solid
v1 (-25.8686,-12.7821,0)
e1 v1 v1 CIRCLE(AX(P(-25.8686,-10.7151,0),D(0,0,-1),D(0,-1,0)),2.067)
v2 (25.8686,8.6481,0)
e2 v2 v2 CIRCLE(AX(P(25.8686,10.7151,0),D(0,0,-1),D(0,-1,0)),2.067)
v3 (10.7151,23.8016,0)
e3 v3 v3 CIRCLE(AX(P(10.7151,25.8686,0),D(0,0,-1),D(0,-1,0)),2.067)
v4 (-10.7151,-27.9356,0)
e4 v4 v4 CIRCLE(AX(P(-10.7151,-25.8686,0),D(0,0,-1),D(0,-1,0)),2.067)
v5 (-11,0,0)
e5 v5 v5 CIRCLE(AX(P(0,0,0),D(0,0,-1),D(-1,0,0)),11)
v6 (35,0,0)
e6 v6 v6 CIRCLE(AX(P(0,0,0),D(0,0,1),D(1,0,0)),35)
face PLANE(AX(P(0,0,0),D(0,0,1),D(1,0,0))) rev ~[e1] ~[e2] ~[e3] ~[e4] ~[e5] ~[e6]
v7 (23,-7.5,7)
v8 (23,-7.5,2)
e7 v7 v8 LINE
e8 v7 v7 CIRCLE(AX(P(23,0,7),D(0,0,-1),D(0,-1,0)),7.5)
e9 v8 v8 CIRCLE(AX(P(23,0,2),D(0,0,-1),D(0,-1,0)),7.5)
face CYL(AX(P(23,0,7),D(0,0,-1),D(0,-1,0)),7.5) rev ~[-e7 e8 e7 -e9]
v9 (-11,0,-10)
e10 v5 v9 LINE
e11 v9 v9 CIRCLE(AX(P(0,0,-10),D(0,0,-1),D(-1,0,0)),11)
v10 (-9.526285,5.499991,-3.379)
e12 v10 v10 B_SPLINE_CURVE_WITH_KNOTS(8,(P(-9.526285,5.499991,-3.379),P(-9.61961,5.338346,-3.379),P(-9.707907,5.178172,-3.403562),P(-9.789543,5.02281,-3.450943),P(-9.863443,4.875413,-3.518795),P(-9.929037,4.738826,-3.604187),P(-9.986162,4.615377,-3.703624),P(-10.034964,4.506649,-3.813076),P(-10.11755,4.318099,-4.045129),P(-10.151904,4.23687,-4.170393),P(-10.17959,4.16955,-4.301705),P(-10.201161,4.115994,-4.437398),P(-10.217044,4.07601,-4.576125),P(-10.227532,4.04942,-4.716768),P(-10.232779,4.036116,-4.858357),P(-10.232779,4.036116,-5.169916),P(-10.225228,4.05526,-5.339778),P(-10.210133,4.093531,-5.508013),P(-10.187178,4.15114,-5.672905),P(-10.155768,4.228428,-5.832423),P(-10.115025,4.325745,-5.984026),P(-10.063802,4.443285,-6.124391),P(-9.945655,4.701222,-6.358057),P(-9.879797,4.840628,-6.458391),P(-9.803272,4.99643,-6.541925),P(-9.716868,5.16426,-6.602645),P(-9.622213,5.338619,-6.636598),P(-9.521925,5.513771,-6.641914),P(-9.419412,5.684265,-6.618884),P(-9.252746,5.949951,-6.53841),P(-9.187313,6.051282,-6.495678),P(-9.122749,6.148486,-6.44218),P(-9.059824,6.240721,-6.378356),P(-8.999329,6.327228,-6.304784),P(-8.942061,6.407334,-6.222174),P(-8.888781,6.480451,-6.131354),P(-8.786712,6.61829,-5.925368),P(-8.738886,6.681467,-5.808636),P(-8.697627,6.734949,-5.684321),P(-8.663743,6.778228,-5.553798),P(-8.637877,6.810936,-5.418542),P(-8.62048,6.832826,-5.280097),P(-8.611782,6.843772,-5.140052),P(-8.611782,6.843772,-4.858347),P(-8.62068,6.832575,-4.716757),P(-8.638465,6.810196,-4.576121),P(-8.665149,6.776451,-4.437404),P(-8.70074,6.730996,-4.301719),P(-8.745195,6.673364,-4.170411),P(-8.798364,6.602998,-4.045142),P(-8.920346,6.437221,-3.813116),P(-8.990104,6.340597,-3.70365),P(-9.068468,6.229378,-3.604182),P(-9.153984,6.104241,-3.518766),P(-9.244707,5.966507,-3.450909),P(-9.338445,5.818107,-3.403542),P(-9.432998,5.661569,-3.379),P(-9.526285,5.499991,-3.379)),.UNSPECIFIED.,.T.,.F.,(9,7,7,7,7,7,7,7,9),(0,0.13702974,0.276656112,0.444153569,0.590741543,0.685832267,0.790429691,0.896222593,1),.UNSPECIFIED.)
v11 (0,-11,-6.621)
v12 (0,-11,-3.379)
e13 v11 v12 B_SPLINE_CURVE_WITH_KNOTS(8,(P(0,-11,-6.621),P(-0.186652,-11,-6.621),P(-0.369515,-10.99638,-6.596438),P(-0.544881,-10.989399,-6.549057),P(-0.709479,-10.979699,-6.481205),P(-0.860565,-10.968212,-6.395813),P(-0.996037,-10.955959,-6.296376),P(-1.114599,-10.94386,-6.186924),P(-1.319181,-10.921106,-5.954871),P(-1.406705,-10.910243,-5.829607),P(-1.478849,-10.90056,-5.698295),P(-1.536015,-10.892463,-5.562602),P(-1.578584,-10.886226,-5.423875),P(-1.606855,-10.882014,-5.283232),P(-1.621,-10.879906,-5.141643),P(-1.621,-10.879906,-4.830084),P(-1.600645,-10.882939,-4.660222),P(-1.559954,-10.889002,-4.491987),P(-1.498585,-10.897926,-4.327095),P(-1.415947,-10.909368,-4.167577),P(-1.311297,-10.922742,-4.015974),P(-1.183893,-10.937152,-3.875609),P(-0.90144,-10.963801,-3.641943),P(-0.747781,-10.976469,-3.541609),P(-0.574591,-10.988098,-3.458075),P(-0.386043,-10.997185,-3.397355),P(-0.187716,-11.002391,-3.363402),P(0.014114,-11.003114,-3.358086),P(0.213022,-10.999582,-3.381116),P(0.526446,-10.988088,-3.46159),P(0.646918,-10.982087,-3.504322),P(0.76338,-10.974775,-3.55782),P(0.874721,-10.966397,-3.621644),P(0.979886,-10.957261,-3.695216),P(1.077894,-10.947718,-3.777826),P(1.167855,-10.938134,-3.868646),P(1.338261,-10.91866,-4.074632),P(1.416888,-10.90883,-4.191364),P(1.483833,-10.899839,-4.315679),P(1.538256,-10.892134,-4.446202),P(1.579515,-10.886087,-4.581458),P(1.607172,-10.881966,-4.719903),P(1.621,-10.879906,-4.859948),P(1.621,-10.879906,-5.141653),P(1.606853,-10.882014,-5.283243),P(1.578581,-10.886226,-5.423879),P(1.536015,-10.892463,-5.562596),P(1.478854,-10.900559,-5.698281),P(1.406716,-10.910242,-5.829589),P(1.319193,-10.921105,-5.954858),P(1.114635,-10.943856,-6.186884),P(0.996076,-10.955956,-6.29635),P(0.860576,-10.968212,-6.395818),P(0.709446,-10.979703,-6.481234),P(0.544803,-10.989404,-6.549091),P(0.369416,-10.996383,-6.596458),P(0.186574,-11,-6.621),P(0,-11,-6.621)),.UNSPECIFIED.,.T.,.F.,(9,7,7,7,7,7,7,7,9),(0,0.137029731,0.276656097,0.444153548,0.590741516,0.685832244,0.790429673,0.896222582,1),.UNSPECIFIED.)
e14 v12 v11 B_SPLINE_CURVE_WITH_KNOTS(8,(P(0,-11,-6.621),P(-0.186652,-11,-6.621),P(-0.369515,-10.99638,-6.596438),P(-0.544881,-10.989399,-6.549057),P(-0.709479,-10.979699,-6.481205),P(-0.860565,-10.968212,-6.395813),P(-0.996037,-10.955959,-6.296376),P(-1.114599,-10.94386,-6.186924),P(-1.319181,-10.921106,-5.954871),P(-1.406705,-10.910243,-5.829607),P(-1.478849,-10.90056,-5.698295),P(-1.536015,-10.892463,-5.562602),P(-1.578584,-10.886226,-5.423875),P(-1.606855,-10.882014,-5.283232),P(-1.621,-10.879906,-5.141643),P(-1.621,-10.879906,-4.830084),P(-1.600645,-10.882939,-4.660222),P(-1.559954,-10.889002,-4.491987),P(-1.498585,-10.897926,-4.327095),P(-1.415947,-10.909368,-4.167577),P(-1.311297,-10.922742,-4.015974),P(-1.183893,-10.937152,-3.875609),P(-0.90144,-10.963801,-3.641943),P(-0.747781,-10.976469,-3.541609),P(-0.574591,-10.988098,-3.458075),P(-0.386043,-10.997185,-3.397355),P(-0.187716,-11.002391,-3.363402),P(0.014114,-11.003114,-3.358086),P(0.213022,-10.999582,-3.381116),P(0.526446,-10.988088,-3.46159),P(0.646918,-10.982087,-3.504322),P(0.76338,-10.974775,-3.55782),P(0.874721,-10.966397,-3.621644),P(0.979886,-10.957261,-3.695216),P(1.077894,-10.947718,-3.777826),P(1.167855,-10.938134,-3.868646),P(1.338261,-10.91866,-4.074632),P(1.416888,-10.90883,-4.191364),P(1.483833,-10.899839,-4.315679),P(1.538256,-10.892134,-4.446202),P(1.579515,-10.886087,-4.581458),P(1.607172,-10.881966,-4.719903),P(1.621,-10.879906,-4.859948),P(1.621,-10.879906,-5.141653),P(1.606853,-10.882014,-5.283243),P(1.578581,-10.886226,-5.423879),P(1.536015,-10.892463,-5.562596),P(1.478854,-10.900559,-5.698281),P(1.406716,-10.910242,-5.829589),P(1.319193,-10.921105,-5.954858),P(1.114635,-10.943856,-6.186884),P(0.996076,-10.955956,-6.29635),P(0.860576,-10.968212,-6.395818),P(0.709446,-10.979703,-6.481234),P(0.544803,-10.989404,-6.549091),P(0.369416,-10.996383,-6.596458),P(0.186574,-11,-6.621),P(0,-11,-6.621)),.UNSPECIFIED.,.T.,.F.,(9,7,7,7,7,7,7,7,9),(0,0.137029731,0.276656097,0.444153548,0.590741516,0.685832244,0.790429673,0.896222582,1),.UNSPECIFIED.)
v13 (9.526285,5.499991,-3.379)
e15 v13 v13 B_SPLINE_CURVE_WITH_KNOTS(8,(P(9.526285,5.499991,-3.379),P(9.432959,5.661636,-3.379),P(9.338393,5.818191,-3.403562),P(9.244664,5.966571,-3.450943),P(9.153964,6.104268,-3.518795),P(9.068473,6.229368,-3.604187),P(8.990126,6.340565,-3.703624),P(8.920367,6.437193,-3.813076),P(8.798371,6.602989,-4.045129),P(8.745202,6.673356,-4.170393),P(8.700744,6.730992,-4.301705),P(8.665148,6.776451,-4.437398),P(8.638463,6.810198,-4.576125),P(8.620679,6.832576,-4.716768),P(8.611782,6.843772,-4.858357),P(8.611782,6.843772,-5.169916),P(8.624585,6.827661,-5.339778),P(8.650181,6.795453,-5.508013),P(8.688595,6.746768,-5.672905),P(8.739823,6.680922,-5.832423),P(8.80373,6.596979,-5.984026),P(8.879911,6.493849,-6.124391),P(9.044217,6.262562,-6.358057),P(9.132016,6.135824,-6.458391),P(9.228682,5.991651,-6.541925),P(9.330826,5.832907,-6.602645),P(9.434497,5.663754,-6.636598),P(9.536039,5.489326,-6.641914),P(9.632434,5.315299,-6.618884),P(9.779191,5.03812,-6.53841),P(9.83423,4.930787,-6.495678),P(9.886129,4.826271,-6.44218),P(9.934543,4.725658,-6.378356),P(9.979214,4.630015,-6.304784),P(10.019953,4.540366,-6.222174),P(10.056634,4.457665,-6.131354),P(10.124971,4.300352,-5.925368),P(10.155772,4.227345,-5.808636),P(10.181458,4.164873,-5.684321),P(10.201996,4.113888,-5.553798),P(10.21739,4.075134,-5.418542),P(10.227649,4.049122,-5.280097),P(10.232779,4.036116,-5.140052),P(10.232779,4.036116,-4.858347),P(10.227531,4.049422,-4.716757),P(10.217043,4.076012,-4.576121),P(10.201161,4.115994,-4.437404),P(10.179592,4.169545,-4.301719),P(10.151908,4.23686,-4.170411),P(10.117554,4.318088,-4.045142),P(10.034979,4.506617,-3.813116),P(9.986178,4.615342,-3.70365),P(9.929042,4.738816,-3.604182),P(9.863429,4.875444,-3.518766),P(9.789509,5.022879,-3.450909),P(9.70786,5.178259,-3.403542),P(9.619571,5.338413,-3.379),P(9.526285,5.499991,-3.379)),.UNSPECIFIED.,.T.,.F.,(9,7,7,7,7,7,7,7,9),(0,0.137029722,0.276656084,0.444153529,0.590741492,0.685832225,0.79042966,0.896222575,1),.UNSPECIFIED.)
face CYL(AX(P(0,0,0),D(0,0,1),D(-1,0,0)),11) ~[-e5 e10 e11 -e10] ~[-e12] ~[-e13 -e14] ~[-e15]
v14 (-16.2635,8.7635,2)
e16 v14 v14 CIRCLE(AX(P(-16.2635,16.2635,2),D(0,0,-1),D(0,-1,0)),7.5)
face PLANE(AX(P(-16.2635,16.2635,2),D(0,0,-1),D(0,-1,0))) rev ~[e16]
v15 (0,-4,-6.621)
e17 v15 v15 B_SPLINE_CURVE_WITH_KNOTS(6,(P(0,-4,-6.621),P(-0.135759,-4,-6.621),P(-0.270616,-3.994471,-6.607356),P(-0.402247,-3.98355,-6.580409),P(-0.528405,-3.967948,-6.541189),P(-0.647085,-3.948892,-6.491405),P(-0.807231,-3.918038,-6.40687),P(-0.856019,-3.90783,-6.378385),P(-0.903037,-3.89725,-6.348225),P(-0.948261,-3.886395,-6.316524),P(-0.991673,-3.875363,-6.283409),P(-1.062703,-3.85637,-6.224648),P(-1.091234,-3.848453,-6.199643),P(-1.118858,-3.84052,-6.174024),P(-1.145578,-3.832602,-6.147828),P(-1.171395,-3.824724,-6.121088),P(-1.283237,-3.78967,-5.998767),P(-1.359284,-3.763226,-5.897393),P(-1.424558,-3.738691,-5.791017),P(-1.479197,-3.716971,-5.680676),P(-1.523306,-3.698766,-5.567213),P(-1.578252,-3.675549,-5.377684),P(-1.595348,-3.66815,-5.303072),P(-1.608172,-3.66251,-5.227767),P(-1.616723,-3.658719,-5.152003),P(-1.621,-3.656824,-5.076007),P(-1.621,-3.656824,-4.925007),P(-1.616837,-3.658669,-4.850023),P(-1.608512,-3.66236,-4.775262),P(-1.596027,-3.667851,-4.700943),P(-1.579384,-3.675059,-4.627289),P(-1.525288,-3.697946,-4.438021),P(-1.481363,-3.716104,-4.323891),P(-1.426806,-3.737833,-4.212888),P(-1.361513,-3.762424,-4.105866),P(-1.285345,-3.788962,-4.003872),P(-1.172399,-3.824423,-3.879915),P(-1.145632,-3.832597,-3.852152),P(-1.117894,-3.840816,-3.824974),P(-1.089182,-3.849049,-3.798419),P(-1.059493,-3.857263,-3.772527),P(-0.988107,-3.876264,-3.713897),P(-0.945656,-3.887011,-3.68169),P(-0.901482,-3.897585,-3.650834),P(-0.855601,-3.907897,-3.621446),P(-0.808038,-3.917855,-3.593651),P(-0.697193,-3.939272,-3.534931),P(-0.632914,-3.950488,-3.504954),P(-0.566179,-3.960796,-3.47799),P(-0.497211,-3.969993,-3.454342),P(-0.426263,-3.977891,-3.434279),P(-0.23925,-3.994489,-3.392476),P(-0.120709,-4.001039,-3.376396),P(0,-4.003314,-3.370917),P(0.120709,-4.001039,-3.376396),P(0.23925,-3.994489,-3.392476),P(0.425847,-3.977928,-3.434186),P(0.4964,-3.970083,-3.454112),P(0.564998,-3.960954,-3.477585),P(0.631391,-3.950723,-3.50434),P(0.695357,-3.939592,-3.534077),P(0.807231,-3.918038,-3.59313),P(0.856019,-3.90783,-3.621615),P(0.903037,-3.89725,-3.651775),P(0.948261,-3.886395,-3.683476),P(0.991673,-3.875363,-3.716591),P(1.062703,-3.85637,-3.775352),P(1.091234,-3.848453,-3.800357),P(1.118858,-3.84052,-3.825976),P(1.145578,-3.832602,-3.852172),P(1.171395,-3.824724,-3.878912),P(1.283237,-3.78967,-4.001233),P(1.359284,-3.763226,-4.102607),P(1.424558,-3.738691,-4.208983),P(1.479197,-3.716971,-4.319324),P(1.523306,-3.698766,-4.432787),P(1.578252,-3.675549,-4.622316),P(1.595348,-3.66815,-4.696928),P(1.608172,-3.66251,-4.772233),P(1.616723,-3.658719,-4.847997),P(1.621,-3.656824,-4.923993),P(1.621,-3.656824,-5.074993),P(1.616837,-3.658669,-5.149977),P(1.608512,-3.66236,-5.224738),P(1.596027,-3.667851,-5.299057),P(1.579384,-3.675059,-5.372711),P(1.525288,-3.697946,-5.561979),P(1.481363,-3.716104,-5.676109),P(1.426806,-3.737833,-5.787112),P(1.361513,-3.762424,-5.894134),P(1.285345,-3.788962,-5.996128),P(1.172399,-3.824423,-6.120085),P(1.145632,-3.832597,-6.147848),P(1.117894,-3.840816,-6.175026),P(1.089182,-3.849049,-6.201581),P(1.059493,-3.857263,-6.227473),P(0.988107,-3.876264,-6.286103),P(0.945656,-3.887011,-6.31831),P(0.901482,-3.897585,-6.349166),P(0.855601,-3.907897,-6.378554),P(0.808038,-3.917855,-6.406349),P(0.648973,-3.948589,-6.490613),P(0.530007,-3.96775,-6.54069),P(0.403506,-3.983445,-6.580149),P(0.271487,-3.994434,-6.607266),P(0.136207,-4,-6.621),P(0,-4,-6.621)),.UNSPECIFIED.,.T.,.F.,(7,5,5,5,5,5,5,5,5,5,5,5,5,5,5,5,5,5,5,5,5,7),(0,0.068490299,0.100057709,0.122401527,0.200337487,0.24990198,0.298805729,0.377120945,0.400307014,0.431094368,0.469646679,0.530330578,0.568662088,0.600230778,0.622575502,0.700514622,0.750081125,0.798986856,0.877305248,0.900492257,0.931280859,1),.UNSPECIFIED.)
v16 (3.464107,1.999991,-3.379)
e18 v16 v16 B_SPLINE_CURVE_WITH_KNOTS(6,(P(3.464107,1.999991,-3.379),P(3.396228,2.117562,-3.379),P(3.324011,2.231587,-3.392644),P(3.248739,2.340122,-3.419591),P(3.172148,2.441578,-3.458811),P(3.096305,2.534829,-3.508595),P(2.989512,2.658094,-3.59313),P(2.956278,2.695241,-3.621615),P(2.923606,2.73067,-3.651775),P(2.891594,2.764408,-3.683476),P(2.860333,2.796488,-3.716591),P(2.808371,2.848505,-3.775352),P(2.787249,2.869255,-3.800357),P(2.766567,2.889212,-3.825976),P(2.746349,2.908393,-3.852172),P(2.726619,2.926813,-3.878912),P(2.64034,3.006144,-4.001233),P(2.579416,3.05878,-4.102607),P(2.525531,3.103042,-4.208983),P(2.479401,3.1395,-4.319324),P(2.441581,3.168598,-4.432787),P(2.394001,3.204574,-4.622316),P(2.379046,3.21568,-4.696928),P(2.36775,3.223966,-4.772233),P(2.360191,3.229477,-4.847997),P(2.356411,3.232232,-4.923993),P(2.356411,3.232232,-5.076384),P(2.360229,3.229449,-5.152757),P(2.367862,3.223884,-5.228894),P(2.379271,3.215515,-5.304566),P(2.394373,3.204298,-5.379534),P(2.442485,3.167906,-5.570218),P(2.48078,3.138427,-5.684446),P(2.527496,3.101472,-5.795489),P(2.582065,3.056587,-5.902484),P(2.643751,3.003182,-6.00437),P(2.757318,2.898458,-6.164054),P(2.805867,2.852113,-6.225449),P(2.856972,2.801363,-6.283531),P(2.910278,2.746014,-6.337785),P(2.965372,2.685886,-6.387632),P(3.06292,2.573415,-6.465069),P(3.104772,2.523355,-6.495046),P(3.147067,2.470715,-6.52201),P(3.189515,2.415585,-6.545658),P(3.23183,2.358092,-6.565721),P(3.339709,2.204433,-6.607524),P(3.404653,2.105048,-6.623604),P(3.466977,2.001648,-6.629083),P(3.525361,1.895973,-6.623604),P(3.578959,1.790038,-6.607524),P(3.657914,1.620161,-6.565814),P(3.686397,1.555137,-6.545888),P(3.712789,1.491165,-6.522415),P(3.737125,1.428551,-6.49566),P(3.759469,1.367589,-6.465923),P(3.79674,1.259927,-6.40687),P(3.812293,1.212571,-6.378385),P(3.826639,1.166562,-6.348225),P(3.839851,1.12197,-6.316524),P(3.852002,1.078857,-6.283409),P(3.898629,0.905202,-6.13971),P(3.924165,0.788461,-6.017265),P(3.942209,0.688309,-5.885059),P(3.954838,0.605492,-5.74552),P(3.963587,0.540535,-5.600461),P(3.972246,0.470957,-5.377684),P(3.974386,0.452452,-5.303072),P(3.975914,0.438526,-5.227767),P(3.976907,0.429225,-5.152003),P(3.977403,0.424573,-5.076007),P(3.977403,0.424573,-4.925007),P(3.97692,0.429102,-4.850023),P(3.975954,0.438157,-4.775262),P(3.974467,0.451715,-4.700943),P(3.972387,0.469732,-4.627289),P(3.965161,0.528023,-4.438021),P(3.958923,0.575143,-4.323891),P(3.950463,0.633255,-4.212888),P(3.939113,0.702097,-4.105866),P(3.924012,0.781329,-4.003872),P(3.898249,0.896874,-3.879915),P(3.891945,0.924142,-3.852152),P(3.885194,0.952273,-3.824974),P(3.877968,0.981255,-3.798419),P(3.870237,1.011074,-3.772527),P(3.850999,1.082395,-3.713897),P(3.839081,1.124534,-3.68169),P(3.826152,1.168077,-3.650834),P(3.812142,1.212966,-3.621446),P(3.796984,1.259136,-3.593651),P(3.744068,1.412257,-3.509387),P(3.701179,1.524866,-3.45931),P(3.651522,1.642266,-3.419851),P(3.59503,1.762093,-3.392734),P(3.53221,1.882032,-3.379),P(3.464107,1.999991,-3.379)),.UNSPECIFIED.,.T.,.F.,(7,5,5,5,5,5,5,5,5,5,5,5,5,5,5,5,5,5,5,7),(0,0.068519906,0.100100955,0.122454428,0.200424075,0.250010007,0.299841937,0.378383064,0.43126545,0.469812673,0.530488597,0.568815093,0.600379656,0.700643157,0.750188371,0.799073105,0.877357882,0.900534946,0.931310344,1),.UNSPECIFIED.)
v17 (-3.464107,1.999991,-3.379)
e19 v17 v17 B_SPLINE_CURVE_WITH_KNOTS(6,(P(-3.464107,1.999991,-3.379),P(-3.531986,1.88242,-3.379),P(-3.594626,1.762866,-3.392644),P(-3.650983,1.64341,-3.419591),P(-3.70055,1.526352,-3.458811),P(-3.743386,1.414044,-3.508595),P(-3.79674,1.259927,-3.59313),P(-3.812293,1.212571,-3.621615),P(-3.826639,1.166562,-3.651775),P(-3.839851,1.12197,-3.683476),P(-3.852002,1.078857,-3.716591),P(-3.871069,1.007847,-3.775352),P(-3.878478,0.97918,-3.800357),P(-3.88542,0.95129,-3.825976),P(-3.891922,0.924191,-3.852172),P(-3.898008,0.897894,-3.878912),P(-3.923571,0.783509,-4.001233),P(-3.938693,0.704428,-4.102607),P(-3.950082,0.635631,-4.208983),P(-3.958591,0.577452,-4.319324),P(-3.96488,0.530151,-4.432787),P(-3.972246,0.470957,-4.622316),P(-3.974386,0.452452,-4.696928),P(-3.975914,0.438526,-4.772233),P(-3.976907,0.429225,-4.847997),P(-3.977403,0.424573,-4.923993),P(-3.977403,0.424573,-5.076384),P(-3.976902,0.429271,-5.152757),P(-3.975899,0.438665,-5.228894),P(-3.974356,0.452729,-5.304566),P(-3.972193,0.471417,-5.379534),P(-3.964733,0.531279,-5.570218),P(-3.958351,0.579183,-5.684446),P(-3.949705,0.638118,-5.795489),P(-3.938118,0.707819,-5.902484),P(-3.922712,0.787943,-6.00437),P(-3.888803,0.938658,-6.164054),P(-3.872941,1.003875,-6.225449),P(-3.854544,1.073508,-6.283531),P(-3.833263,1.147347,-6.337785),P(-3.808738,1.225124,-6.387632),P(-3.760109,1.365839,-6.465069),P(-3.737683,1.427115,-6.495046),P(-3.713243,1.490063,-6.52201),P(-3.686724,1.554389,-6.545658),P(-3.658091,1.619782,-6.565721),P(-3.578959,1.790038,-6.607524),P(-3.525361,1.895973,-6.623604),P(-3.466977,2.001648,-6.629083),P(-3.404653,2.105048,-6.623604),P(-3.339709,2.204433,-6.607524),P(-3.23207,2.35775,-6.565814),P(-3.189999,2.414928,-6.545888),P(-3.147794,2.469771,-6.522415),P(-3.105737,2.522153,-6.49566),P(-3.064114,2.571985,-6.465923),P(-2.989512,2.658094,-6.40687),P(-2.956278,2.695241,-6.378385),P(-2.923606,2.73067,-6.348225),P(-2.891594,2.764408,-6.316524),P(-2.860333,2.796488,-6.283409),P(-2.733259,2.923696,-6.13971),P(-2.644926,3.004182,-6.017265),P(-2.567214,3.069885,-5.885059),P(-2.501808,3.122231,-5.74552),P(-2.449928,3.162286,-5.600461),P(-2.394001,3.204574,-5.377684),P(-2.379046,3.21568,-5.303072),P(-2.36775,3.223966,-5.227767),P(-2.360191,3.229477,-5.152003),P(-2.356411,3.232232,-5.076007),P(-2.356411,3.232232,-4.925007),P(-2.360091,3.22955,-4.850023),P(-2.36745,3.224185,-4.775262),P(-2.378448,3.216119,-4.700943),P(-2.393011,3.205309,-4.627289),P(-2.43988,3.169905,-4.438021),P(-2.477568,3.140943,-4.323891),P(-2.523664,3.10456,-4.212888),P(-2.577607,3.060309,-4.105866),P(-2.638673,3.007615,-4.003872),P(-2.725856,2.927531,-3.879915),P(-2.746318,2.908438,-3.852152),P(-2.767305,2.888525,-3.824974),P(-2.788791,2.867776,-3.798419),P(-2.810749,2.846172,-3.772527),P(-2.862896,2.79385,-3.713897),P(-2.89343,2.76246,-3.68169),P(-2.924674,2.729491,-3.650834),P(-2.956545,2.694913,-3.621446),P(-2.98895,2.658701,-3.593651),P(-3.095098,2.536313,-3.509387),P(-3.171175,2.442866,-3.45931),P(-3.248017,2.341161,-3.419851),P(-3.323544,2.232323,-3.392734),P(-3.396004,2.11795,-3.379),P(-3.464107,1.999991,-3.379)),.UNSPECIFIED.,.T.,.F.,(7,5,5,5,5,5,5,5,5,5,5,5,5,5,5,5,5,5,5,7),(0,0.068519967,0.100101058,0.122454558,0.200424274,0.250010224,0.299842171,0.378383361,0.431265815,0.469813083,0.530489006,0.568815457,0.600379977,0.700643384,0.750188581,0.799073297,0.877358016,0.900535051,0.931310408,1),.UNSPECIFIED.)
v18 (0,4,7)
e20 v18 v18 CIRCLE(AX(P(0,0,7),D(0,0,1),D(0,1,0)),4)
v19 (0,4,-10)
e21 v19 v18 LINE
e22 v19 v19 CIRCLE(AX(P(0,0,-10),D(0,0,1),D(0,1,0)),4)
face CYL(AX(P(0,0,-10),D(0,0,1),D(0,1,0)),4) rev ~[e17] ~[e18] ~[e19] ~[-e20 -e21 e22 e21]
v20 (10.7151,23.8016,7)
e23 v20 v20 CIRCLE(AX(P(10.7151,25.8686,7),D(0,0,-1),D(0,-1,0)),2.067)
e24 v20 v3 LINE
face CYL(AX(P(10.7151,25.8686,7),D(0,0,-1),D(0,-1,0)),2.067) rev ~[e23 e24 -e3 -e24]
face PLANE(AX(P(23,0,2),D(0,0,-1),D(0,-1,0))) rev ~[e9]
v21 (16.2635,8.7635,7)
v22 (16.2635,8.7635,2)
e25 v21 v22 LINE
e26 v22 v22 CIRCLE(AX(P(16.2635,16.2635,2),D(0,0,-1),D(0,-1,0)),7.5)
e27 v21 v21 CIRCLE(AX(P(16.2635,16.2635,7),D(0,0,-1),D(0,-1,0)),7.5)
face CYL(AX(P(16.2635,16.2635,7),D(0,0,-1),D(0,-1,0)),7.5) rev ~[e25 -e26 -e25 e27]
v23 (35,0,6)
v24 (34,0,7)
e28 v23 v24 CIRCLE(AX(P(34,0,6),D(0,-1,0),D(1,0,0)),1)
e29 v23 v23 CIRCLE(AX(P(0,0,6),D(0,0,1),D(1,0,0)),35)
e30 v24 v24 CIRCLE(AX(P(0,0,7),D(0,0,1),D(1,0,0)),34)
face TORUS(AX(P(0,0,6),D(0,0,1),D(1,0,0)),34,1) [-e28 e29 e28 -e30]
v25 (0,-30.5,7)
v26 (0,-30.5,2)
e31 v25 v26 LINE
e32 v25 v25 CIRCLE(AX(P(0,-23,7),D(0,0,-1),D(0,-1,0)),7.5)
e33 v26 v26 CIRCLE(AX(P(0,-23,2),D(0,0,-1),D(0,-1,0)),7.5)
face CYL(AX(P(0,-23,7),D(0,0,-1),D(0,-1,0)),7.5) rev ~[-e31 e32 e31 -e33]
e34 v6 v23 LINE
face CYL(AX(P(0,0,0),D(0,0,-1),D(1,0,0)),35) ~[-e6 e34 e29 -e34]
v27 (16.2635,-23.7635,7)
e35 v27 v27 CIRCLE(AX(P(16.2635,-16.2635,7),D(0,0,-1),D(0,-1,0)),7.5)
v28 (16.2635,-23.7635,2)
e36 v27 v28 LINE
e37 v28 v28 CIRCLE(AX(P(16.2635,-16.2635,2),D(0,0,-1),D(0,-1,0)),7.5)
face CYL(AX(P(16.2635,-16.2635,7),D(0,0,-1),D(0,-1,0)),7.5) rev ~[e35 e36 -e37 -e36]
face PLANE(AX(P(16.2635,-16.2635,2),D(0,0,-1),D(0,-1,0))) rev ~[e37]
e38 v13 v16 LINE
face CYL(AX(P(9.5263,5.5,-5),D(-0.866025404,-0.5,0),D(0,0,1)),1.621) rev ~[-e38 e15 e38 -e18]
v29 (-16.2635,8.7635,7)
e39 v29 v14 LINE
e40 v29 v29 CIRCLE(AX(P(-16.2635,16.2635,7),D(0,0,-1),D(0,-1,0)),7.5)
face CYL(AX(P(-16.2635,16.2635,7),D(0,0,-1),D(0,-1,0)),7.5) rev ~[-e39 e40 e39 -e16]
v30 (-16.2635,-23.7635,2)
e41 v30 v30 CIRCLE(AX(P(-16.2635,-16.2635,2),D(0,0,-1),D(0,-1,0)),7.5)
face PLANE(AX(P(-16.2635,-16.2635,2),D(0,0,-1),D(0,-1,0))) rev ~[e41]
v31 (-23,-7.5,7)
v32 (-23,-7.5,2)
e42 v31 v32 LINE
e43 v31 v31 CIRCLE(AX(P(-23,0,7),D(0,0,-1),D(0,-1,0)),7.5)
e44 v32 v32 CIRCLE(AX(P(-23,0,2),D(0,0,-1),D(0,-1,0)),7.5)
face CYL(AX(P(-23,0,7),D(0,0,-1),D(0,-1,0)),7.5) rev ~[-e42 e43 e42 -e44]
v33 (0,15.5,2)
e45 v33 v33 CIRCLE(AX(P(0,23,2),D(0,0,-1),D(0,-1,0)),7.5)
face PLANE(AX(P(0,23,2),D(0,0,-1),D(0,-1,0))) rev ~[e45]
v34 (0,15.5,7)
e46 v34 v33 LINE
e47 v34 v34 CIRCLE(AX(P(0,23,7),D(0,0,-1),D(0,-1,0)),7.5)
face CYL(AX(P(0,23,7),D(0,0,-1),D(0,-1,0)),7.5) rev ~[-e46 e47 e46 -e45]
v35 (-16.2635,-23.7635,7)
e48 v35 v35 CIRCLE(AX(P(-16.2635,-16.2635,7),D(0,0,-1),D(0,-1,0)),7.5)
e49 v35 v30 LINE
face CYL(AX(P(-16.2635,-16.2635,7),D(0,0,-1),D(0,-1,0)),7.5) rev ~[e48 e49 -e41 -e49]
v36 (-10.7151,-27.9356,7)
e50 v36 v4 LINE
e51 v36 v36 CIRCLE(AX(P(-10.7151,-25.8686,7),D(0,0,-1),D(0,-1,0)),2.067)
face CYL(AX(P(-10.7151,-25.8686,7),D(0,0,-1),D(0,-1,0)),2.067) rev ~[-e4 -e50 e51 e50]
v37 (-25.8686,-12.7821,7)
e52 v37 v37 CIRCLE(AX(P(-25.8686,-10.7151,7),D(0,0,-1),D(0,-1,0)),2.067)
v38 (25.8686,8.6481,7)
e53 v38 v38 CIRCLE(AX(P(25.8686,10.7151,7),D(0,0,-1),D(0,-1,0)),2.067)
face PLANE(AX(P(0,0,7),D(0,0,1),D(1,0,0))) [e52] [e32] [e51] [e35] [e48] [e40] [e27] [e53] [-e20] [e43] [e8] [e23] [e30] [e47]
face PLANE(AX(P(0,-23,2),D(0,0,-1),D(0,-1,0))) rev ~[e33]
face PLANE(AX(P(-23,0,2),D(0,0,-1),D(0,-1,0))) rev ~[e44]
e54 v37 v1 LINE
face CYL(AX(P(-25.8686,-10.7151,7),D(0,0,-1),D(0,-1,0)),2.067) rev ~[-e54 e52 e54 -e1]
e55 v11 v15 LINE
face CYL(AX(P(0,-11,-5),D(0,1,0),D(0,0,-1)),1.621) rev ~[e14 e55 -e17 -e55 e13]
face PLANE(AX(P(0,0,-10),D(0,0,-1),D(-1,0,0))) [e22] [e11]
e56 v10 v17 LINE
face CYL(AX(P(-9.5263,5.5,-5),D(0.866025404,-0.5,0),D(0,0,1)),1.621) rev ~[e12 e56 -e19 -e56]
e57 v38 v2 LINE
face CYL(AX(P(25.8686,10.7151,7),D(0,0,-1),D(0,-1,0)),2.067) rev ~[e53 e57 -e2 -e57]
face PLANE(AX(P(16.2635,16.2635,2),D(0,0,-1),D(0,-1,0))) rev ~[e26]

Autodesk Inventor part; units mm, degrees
sketch "Sketch1" plane through (0, 0, 0) normal (0, 0, 1) x (1, 0, 0)
  circle A0 centre (0, 0) radius 35
  dimension "d0" = 70
extrude "Extrusion1" add sketch "Sketch1" along normal blind 7
sketch "Sketch2" plane through (0, 0, 7) normal (0, 0, 1) x (1, 0, 0)
  circle A0 centre (0, 0) radius 35 projected
  circle A1 centre (0, 0) radius 23 construction
  line L0 (0, 0) -> (0, 23) construction
  point P0 (-16.2635, 16.2635)
  point P1 (-23, 0)
  point P2 (-16.2635, -16.2635)
  point P3 (0, -23)
  point P4 (16.2635, -16.2635)
  point P5 (23, 0)
  point P6 (16.2635, 16.2635)
  dimension "d3" = 46
  dimension "d6" = 360
hole "Hole1" at (0, 23, 7) at (-16.2635, 16.2635, 7) at (-23, 0, 7) at (-16.2635, -16.2635, 7) at (0, -23, 7) at (16.2635, -16.2635, 7) at (23, 0, 7) at (16.2635, 16.2635, 7) direction (0, 0, -1) diameter 15 depth 5
fillet "Fillet2" radius 1 1 edges at (-35, 0, 7)
sketch "Sketch12" plane through (0, 0, 0) normal (0, 0, -1) x (-1, 0, 0)
  circle A0 centre (0, 0) radius 35 projected
  circle A1 centre (0, 0) radius 11
  dimension "d62" = 22
extrude "Extrusion4" add sketch "Sketch12" along normal blind 10 contours A1
sketch "Sketch13" plane through (0, 0, -10) normal (0, 0, -1) x (-1, 0, 0)
  point P0 (0, 0)
  point P1 (0, 0)
hole "Hole6" at (0, 0, -10) direction (0, 0, 1) diameter 8 end through all
sketch "Sketch14" plane through (0, 0, 7) normal (0, 0, 1) x (1, 0, 0)
  circle A0 centre (0, 0) radius 28 construction
  circle A1 centre (0, 0) radius 4 projected
  circle A2 centre (16.2635, 16.2635) radius 7.5 projected
  circle A3 centre (16.2635, -16.2635) radius 7.5 projected
  circle A4 centre (-16.2635, -16.2635) radius 7.5 projected
  circle A5 centre (-16.2635, 16.2635) radius 7.5 projected
  circle A6 centre (0, 23) radius 7.5 projected
  circle A7 centre (-23, 0) radius 7.5 projected
  circle A8 centre (0, -23) radius 7.5 projected
  circle A9 centre (23, 0) radius 7.5 projected
  circle A10 centre (0, 0) radius 34 projected
  circle A11 centre (0, 0) radius 4 projected
  line L0 (0, 0) -> (16.2635, 16.2635)
  line L1 (0, 0) -> (10.7151, 25.8686)
  line L2 (25.8686, 10.7151) -> (0, 0)
  line L3 (16.2635, -16.2635) -> (-16.2635, 16.2635)
  point P0 (-25.8686, -10.7151)
  point P1 (-10.7151, -25.8686)
  dimension "d72" = 56
  dimension "d73" = 22.5
  dimension "d74" = 22.5
hole "Hole7" at (25.8686, 10.7151, 7) at (10.7151, 25.8686, 7) at (-10.7151, -25.8686, 7) at (-25.8686, -10.7151, 7) direction (0, 0, -1) diameter 4.134 end through all thread size "M5x0.8" class "6H" standard "ANSI Metric M Profile"
ref_plane "Work Plane1" through (0, -11, 0) normal (0, 1, 0) x (-1, 0, 0)
sketch "Sketch15" plane through (0, -11, 0) normal (0, 1, 0) x (-1, 0, 0)
  line L0 (-11, -10) -> (11, -10) projected
  line L1 (11, 0) -> (-11, 0) projected
  line L2 (-11, 0) -> (-11, -10) projected
  line L3 (11, 0) -> (-11, 0)
  line L4 (-11, 0) -> (-11, -3)
  line L5 (-11, -3) -> (11, -3)
  line L6 (11, -3) -> (11, 0)
  point P0 (0, 0)
  point P1 (0, -5)
  dimension "d82" = 3
  dimension "d83" = 11
  dimension "d84" = 5
hole "Hole8" at (0, -11, -5) direction (0, 1, 0) diameter 3.242 depth 11.05 tip angle 118 thread size "M4x0.7" class "6H" standard "ANSI Metric M Profile"
sketch "Sketch16" plane through (0, 0, -10) normal (0, 0, -1) x (-1, 0, 0)
  circle A0 centre (0, 0) radius 4 projected
  circle A1 centre (0, 0) radius 11 projected
  line L0 (0, 0) -> (0, -11)
  circle A2 centre (0, 0) radius 11 projected
  line L1 (0, 0) -> (-9.5263, 5.5)
  line L2 (0, 0) -> (9.5263, 5.5)
  dimension "d92" = 120
  dimension "d93" = 120
ref_plane "Work Plane2" through (9.5263, 5.5, -10) normal (0.866, 0.5, 0) x (-0.5, 0.866, 0)
ref_plane "Work Plane3" through (-9.5263, 5.5, -10) normal (-0.866, 0.5, 0) x (-0.5, -0.866, 0)
sketch "Sketch17" plane through (9.5263, 5.5, -10) normal (0.866, 0.5, 0) x (-0.5, 0.866, 0)
  line L0 (35, 10) -> (-35, 10) projected
  line L1 (35, 16) -> (-35, 16) projected
  line L2 (-11, 0) -> (11, 0) projected
  line L3 (11, 10) -> (11, 0) projected
  line L4 (-11, 10) -> (-11, 0) projected
  point P0 (0, 10)
  point P1 (0, 5)
  dimension "d94" = 11
  dimension "d95" = 5
hole "Hole9" at (9.5263, 5.5, -5) direction (-0.866, -0.5, 0) diameter 3.242 depth 11.05 tip angle 118 thread size "M4x0.7" class "6H" standard "ANSI Metric M Profile"
sketch "Sketch18" plane through (-9.5263, 5.5, -10) normal (-0.866, 0.5, 0) x (-0.5, -0.866, 0)
  line L0 (11, 10) -> (11, 0) projected
  line L1 (35, 10) -> (-35, 10) projected
  line L2 (-11, 0) -> (11, 0) projected
  line L3 (-11, 10) -> (-11, 0) projected
  point P0 (0, 10)
  point P1 (0, 5)
  dimension "d103" = 5
  dimension "d104" = 11
hole "Hole10" at (-9.5263, 5.5, -5) direction (0.866, -0.5, 0) diameter 3.242 depth 11.05 tip angle 118 thread size "M4x0.7" class "6H" standard "ANSI Metric M Profile"
properties part number "P003" material "Aluminum 6061"
